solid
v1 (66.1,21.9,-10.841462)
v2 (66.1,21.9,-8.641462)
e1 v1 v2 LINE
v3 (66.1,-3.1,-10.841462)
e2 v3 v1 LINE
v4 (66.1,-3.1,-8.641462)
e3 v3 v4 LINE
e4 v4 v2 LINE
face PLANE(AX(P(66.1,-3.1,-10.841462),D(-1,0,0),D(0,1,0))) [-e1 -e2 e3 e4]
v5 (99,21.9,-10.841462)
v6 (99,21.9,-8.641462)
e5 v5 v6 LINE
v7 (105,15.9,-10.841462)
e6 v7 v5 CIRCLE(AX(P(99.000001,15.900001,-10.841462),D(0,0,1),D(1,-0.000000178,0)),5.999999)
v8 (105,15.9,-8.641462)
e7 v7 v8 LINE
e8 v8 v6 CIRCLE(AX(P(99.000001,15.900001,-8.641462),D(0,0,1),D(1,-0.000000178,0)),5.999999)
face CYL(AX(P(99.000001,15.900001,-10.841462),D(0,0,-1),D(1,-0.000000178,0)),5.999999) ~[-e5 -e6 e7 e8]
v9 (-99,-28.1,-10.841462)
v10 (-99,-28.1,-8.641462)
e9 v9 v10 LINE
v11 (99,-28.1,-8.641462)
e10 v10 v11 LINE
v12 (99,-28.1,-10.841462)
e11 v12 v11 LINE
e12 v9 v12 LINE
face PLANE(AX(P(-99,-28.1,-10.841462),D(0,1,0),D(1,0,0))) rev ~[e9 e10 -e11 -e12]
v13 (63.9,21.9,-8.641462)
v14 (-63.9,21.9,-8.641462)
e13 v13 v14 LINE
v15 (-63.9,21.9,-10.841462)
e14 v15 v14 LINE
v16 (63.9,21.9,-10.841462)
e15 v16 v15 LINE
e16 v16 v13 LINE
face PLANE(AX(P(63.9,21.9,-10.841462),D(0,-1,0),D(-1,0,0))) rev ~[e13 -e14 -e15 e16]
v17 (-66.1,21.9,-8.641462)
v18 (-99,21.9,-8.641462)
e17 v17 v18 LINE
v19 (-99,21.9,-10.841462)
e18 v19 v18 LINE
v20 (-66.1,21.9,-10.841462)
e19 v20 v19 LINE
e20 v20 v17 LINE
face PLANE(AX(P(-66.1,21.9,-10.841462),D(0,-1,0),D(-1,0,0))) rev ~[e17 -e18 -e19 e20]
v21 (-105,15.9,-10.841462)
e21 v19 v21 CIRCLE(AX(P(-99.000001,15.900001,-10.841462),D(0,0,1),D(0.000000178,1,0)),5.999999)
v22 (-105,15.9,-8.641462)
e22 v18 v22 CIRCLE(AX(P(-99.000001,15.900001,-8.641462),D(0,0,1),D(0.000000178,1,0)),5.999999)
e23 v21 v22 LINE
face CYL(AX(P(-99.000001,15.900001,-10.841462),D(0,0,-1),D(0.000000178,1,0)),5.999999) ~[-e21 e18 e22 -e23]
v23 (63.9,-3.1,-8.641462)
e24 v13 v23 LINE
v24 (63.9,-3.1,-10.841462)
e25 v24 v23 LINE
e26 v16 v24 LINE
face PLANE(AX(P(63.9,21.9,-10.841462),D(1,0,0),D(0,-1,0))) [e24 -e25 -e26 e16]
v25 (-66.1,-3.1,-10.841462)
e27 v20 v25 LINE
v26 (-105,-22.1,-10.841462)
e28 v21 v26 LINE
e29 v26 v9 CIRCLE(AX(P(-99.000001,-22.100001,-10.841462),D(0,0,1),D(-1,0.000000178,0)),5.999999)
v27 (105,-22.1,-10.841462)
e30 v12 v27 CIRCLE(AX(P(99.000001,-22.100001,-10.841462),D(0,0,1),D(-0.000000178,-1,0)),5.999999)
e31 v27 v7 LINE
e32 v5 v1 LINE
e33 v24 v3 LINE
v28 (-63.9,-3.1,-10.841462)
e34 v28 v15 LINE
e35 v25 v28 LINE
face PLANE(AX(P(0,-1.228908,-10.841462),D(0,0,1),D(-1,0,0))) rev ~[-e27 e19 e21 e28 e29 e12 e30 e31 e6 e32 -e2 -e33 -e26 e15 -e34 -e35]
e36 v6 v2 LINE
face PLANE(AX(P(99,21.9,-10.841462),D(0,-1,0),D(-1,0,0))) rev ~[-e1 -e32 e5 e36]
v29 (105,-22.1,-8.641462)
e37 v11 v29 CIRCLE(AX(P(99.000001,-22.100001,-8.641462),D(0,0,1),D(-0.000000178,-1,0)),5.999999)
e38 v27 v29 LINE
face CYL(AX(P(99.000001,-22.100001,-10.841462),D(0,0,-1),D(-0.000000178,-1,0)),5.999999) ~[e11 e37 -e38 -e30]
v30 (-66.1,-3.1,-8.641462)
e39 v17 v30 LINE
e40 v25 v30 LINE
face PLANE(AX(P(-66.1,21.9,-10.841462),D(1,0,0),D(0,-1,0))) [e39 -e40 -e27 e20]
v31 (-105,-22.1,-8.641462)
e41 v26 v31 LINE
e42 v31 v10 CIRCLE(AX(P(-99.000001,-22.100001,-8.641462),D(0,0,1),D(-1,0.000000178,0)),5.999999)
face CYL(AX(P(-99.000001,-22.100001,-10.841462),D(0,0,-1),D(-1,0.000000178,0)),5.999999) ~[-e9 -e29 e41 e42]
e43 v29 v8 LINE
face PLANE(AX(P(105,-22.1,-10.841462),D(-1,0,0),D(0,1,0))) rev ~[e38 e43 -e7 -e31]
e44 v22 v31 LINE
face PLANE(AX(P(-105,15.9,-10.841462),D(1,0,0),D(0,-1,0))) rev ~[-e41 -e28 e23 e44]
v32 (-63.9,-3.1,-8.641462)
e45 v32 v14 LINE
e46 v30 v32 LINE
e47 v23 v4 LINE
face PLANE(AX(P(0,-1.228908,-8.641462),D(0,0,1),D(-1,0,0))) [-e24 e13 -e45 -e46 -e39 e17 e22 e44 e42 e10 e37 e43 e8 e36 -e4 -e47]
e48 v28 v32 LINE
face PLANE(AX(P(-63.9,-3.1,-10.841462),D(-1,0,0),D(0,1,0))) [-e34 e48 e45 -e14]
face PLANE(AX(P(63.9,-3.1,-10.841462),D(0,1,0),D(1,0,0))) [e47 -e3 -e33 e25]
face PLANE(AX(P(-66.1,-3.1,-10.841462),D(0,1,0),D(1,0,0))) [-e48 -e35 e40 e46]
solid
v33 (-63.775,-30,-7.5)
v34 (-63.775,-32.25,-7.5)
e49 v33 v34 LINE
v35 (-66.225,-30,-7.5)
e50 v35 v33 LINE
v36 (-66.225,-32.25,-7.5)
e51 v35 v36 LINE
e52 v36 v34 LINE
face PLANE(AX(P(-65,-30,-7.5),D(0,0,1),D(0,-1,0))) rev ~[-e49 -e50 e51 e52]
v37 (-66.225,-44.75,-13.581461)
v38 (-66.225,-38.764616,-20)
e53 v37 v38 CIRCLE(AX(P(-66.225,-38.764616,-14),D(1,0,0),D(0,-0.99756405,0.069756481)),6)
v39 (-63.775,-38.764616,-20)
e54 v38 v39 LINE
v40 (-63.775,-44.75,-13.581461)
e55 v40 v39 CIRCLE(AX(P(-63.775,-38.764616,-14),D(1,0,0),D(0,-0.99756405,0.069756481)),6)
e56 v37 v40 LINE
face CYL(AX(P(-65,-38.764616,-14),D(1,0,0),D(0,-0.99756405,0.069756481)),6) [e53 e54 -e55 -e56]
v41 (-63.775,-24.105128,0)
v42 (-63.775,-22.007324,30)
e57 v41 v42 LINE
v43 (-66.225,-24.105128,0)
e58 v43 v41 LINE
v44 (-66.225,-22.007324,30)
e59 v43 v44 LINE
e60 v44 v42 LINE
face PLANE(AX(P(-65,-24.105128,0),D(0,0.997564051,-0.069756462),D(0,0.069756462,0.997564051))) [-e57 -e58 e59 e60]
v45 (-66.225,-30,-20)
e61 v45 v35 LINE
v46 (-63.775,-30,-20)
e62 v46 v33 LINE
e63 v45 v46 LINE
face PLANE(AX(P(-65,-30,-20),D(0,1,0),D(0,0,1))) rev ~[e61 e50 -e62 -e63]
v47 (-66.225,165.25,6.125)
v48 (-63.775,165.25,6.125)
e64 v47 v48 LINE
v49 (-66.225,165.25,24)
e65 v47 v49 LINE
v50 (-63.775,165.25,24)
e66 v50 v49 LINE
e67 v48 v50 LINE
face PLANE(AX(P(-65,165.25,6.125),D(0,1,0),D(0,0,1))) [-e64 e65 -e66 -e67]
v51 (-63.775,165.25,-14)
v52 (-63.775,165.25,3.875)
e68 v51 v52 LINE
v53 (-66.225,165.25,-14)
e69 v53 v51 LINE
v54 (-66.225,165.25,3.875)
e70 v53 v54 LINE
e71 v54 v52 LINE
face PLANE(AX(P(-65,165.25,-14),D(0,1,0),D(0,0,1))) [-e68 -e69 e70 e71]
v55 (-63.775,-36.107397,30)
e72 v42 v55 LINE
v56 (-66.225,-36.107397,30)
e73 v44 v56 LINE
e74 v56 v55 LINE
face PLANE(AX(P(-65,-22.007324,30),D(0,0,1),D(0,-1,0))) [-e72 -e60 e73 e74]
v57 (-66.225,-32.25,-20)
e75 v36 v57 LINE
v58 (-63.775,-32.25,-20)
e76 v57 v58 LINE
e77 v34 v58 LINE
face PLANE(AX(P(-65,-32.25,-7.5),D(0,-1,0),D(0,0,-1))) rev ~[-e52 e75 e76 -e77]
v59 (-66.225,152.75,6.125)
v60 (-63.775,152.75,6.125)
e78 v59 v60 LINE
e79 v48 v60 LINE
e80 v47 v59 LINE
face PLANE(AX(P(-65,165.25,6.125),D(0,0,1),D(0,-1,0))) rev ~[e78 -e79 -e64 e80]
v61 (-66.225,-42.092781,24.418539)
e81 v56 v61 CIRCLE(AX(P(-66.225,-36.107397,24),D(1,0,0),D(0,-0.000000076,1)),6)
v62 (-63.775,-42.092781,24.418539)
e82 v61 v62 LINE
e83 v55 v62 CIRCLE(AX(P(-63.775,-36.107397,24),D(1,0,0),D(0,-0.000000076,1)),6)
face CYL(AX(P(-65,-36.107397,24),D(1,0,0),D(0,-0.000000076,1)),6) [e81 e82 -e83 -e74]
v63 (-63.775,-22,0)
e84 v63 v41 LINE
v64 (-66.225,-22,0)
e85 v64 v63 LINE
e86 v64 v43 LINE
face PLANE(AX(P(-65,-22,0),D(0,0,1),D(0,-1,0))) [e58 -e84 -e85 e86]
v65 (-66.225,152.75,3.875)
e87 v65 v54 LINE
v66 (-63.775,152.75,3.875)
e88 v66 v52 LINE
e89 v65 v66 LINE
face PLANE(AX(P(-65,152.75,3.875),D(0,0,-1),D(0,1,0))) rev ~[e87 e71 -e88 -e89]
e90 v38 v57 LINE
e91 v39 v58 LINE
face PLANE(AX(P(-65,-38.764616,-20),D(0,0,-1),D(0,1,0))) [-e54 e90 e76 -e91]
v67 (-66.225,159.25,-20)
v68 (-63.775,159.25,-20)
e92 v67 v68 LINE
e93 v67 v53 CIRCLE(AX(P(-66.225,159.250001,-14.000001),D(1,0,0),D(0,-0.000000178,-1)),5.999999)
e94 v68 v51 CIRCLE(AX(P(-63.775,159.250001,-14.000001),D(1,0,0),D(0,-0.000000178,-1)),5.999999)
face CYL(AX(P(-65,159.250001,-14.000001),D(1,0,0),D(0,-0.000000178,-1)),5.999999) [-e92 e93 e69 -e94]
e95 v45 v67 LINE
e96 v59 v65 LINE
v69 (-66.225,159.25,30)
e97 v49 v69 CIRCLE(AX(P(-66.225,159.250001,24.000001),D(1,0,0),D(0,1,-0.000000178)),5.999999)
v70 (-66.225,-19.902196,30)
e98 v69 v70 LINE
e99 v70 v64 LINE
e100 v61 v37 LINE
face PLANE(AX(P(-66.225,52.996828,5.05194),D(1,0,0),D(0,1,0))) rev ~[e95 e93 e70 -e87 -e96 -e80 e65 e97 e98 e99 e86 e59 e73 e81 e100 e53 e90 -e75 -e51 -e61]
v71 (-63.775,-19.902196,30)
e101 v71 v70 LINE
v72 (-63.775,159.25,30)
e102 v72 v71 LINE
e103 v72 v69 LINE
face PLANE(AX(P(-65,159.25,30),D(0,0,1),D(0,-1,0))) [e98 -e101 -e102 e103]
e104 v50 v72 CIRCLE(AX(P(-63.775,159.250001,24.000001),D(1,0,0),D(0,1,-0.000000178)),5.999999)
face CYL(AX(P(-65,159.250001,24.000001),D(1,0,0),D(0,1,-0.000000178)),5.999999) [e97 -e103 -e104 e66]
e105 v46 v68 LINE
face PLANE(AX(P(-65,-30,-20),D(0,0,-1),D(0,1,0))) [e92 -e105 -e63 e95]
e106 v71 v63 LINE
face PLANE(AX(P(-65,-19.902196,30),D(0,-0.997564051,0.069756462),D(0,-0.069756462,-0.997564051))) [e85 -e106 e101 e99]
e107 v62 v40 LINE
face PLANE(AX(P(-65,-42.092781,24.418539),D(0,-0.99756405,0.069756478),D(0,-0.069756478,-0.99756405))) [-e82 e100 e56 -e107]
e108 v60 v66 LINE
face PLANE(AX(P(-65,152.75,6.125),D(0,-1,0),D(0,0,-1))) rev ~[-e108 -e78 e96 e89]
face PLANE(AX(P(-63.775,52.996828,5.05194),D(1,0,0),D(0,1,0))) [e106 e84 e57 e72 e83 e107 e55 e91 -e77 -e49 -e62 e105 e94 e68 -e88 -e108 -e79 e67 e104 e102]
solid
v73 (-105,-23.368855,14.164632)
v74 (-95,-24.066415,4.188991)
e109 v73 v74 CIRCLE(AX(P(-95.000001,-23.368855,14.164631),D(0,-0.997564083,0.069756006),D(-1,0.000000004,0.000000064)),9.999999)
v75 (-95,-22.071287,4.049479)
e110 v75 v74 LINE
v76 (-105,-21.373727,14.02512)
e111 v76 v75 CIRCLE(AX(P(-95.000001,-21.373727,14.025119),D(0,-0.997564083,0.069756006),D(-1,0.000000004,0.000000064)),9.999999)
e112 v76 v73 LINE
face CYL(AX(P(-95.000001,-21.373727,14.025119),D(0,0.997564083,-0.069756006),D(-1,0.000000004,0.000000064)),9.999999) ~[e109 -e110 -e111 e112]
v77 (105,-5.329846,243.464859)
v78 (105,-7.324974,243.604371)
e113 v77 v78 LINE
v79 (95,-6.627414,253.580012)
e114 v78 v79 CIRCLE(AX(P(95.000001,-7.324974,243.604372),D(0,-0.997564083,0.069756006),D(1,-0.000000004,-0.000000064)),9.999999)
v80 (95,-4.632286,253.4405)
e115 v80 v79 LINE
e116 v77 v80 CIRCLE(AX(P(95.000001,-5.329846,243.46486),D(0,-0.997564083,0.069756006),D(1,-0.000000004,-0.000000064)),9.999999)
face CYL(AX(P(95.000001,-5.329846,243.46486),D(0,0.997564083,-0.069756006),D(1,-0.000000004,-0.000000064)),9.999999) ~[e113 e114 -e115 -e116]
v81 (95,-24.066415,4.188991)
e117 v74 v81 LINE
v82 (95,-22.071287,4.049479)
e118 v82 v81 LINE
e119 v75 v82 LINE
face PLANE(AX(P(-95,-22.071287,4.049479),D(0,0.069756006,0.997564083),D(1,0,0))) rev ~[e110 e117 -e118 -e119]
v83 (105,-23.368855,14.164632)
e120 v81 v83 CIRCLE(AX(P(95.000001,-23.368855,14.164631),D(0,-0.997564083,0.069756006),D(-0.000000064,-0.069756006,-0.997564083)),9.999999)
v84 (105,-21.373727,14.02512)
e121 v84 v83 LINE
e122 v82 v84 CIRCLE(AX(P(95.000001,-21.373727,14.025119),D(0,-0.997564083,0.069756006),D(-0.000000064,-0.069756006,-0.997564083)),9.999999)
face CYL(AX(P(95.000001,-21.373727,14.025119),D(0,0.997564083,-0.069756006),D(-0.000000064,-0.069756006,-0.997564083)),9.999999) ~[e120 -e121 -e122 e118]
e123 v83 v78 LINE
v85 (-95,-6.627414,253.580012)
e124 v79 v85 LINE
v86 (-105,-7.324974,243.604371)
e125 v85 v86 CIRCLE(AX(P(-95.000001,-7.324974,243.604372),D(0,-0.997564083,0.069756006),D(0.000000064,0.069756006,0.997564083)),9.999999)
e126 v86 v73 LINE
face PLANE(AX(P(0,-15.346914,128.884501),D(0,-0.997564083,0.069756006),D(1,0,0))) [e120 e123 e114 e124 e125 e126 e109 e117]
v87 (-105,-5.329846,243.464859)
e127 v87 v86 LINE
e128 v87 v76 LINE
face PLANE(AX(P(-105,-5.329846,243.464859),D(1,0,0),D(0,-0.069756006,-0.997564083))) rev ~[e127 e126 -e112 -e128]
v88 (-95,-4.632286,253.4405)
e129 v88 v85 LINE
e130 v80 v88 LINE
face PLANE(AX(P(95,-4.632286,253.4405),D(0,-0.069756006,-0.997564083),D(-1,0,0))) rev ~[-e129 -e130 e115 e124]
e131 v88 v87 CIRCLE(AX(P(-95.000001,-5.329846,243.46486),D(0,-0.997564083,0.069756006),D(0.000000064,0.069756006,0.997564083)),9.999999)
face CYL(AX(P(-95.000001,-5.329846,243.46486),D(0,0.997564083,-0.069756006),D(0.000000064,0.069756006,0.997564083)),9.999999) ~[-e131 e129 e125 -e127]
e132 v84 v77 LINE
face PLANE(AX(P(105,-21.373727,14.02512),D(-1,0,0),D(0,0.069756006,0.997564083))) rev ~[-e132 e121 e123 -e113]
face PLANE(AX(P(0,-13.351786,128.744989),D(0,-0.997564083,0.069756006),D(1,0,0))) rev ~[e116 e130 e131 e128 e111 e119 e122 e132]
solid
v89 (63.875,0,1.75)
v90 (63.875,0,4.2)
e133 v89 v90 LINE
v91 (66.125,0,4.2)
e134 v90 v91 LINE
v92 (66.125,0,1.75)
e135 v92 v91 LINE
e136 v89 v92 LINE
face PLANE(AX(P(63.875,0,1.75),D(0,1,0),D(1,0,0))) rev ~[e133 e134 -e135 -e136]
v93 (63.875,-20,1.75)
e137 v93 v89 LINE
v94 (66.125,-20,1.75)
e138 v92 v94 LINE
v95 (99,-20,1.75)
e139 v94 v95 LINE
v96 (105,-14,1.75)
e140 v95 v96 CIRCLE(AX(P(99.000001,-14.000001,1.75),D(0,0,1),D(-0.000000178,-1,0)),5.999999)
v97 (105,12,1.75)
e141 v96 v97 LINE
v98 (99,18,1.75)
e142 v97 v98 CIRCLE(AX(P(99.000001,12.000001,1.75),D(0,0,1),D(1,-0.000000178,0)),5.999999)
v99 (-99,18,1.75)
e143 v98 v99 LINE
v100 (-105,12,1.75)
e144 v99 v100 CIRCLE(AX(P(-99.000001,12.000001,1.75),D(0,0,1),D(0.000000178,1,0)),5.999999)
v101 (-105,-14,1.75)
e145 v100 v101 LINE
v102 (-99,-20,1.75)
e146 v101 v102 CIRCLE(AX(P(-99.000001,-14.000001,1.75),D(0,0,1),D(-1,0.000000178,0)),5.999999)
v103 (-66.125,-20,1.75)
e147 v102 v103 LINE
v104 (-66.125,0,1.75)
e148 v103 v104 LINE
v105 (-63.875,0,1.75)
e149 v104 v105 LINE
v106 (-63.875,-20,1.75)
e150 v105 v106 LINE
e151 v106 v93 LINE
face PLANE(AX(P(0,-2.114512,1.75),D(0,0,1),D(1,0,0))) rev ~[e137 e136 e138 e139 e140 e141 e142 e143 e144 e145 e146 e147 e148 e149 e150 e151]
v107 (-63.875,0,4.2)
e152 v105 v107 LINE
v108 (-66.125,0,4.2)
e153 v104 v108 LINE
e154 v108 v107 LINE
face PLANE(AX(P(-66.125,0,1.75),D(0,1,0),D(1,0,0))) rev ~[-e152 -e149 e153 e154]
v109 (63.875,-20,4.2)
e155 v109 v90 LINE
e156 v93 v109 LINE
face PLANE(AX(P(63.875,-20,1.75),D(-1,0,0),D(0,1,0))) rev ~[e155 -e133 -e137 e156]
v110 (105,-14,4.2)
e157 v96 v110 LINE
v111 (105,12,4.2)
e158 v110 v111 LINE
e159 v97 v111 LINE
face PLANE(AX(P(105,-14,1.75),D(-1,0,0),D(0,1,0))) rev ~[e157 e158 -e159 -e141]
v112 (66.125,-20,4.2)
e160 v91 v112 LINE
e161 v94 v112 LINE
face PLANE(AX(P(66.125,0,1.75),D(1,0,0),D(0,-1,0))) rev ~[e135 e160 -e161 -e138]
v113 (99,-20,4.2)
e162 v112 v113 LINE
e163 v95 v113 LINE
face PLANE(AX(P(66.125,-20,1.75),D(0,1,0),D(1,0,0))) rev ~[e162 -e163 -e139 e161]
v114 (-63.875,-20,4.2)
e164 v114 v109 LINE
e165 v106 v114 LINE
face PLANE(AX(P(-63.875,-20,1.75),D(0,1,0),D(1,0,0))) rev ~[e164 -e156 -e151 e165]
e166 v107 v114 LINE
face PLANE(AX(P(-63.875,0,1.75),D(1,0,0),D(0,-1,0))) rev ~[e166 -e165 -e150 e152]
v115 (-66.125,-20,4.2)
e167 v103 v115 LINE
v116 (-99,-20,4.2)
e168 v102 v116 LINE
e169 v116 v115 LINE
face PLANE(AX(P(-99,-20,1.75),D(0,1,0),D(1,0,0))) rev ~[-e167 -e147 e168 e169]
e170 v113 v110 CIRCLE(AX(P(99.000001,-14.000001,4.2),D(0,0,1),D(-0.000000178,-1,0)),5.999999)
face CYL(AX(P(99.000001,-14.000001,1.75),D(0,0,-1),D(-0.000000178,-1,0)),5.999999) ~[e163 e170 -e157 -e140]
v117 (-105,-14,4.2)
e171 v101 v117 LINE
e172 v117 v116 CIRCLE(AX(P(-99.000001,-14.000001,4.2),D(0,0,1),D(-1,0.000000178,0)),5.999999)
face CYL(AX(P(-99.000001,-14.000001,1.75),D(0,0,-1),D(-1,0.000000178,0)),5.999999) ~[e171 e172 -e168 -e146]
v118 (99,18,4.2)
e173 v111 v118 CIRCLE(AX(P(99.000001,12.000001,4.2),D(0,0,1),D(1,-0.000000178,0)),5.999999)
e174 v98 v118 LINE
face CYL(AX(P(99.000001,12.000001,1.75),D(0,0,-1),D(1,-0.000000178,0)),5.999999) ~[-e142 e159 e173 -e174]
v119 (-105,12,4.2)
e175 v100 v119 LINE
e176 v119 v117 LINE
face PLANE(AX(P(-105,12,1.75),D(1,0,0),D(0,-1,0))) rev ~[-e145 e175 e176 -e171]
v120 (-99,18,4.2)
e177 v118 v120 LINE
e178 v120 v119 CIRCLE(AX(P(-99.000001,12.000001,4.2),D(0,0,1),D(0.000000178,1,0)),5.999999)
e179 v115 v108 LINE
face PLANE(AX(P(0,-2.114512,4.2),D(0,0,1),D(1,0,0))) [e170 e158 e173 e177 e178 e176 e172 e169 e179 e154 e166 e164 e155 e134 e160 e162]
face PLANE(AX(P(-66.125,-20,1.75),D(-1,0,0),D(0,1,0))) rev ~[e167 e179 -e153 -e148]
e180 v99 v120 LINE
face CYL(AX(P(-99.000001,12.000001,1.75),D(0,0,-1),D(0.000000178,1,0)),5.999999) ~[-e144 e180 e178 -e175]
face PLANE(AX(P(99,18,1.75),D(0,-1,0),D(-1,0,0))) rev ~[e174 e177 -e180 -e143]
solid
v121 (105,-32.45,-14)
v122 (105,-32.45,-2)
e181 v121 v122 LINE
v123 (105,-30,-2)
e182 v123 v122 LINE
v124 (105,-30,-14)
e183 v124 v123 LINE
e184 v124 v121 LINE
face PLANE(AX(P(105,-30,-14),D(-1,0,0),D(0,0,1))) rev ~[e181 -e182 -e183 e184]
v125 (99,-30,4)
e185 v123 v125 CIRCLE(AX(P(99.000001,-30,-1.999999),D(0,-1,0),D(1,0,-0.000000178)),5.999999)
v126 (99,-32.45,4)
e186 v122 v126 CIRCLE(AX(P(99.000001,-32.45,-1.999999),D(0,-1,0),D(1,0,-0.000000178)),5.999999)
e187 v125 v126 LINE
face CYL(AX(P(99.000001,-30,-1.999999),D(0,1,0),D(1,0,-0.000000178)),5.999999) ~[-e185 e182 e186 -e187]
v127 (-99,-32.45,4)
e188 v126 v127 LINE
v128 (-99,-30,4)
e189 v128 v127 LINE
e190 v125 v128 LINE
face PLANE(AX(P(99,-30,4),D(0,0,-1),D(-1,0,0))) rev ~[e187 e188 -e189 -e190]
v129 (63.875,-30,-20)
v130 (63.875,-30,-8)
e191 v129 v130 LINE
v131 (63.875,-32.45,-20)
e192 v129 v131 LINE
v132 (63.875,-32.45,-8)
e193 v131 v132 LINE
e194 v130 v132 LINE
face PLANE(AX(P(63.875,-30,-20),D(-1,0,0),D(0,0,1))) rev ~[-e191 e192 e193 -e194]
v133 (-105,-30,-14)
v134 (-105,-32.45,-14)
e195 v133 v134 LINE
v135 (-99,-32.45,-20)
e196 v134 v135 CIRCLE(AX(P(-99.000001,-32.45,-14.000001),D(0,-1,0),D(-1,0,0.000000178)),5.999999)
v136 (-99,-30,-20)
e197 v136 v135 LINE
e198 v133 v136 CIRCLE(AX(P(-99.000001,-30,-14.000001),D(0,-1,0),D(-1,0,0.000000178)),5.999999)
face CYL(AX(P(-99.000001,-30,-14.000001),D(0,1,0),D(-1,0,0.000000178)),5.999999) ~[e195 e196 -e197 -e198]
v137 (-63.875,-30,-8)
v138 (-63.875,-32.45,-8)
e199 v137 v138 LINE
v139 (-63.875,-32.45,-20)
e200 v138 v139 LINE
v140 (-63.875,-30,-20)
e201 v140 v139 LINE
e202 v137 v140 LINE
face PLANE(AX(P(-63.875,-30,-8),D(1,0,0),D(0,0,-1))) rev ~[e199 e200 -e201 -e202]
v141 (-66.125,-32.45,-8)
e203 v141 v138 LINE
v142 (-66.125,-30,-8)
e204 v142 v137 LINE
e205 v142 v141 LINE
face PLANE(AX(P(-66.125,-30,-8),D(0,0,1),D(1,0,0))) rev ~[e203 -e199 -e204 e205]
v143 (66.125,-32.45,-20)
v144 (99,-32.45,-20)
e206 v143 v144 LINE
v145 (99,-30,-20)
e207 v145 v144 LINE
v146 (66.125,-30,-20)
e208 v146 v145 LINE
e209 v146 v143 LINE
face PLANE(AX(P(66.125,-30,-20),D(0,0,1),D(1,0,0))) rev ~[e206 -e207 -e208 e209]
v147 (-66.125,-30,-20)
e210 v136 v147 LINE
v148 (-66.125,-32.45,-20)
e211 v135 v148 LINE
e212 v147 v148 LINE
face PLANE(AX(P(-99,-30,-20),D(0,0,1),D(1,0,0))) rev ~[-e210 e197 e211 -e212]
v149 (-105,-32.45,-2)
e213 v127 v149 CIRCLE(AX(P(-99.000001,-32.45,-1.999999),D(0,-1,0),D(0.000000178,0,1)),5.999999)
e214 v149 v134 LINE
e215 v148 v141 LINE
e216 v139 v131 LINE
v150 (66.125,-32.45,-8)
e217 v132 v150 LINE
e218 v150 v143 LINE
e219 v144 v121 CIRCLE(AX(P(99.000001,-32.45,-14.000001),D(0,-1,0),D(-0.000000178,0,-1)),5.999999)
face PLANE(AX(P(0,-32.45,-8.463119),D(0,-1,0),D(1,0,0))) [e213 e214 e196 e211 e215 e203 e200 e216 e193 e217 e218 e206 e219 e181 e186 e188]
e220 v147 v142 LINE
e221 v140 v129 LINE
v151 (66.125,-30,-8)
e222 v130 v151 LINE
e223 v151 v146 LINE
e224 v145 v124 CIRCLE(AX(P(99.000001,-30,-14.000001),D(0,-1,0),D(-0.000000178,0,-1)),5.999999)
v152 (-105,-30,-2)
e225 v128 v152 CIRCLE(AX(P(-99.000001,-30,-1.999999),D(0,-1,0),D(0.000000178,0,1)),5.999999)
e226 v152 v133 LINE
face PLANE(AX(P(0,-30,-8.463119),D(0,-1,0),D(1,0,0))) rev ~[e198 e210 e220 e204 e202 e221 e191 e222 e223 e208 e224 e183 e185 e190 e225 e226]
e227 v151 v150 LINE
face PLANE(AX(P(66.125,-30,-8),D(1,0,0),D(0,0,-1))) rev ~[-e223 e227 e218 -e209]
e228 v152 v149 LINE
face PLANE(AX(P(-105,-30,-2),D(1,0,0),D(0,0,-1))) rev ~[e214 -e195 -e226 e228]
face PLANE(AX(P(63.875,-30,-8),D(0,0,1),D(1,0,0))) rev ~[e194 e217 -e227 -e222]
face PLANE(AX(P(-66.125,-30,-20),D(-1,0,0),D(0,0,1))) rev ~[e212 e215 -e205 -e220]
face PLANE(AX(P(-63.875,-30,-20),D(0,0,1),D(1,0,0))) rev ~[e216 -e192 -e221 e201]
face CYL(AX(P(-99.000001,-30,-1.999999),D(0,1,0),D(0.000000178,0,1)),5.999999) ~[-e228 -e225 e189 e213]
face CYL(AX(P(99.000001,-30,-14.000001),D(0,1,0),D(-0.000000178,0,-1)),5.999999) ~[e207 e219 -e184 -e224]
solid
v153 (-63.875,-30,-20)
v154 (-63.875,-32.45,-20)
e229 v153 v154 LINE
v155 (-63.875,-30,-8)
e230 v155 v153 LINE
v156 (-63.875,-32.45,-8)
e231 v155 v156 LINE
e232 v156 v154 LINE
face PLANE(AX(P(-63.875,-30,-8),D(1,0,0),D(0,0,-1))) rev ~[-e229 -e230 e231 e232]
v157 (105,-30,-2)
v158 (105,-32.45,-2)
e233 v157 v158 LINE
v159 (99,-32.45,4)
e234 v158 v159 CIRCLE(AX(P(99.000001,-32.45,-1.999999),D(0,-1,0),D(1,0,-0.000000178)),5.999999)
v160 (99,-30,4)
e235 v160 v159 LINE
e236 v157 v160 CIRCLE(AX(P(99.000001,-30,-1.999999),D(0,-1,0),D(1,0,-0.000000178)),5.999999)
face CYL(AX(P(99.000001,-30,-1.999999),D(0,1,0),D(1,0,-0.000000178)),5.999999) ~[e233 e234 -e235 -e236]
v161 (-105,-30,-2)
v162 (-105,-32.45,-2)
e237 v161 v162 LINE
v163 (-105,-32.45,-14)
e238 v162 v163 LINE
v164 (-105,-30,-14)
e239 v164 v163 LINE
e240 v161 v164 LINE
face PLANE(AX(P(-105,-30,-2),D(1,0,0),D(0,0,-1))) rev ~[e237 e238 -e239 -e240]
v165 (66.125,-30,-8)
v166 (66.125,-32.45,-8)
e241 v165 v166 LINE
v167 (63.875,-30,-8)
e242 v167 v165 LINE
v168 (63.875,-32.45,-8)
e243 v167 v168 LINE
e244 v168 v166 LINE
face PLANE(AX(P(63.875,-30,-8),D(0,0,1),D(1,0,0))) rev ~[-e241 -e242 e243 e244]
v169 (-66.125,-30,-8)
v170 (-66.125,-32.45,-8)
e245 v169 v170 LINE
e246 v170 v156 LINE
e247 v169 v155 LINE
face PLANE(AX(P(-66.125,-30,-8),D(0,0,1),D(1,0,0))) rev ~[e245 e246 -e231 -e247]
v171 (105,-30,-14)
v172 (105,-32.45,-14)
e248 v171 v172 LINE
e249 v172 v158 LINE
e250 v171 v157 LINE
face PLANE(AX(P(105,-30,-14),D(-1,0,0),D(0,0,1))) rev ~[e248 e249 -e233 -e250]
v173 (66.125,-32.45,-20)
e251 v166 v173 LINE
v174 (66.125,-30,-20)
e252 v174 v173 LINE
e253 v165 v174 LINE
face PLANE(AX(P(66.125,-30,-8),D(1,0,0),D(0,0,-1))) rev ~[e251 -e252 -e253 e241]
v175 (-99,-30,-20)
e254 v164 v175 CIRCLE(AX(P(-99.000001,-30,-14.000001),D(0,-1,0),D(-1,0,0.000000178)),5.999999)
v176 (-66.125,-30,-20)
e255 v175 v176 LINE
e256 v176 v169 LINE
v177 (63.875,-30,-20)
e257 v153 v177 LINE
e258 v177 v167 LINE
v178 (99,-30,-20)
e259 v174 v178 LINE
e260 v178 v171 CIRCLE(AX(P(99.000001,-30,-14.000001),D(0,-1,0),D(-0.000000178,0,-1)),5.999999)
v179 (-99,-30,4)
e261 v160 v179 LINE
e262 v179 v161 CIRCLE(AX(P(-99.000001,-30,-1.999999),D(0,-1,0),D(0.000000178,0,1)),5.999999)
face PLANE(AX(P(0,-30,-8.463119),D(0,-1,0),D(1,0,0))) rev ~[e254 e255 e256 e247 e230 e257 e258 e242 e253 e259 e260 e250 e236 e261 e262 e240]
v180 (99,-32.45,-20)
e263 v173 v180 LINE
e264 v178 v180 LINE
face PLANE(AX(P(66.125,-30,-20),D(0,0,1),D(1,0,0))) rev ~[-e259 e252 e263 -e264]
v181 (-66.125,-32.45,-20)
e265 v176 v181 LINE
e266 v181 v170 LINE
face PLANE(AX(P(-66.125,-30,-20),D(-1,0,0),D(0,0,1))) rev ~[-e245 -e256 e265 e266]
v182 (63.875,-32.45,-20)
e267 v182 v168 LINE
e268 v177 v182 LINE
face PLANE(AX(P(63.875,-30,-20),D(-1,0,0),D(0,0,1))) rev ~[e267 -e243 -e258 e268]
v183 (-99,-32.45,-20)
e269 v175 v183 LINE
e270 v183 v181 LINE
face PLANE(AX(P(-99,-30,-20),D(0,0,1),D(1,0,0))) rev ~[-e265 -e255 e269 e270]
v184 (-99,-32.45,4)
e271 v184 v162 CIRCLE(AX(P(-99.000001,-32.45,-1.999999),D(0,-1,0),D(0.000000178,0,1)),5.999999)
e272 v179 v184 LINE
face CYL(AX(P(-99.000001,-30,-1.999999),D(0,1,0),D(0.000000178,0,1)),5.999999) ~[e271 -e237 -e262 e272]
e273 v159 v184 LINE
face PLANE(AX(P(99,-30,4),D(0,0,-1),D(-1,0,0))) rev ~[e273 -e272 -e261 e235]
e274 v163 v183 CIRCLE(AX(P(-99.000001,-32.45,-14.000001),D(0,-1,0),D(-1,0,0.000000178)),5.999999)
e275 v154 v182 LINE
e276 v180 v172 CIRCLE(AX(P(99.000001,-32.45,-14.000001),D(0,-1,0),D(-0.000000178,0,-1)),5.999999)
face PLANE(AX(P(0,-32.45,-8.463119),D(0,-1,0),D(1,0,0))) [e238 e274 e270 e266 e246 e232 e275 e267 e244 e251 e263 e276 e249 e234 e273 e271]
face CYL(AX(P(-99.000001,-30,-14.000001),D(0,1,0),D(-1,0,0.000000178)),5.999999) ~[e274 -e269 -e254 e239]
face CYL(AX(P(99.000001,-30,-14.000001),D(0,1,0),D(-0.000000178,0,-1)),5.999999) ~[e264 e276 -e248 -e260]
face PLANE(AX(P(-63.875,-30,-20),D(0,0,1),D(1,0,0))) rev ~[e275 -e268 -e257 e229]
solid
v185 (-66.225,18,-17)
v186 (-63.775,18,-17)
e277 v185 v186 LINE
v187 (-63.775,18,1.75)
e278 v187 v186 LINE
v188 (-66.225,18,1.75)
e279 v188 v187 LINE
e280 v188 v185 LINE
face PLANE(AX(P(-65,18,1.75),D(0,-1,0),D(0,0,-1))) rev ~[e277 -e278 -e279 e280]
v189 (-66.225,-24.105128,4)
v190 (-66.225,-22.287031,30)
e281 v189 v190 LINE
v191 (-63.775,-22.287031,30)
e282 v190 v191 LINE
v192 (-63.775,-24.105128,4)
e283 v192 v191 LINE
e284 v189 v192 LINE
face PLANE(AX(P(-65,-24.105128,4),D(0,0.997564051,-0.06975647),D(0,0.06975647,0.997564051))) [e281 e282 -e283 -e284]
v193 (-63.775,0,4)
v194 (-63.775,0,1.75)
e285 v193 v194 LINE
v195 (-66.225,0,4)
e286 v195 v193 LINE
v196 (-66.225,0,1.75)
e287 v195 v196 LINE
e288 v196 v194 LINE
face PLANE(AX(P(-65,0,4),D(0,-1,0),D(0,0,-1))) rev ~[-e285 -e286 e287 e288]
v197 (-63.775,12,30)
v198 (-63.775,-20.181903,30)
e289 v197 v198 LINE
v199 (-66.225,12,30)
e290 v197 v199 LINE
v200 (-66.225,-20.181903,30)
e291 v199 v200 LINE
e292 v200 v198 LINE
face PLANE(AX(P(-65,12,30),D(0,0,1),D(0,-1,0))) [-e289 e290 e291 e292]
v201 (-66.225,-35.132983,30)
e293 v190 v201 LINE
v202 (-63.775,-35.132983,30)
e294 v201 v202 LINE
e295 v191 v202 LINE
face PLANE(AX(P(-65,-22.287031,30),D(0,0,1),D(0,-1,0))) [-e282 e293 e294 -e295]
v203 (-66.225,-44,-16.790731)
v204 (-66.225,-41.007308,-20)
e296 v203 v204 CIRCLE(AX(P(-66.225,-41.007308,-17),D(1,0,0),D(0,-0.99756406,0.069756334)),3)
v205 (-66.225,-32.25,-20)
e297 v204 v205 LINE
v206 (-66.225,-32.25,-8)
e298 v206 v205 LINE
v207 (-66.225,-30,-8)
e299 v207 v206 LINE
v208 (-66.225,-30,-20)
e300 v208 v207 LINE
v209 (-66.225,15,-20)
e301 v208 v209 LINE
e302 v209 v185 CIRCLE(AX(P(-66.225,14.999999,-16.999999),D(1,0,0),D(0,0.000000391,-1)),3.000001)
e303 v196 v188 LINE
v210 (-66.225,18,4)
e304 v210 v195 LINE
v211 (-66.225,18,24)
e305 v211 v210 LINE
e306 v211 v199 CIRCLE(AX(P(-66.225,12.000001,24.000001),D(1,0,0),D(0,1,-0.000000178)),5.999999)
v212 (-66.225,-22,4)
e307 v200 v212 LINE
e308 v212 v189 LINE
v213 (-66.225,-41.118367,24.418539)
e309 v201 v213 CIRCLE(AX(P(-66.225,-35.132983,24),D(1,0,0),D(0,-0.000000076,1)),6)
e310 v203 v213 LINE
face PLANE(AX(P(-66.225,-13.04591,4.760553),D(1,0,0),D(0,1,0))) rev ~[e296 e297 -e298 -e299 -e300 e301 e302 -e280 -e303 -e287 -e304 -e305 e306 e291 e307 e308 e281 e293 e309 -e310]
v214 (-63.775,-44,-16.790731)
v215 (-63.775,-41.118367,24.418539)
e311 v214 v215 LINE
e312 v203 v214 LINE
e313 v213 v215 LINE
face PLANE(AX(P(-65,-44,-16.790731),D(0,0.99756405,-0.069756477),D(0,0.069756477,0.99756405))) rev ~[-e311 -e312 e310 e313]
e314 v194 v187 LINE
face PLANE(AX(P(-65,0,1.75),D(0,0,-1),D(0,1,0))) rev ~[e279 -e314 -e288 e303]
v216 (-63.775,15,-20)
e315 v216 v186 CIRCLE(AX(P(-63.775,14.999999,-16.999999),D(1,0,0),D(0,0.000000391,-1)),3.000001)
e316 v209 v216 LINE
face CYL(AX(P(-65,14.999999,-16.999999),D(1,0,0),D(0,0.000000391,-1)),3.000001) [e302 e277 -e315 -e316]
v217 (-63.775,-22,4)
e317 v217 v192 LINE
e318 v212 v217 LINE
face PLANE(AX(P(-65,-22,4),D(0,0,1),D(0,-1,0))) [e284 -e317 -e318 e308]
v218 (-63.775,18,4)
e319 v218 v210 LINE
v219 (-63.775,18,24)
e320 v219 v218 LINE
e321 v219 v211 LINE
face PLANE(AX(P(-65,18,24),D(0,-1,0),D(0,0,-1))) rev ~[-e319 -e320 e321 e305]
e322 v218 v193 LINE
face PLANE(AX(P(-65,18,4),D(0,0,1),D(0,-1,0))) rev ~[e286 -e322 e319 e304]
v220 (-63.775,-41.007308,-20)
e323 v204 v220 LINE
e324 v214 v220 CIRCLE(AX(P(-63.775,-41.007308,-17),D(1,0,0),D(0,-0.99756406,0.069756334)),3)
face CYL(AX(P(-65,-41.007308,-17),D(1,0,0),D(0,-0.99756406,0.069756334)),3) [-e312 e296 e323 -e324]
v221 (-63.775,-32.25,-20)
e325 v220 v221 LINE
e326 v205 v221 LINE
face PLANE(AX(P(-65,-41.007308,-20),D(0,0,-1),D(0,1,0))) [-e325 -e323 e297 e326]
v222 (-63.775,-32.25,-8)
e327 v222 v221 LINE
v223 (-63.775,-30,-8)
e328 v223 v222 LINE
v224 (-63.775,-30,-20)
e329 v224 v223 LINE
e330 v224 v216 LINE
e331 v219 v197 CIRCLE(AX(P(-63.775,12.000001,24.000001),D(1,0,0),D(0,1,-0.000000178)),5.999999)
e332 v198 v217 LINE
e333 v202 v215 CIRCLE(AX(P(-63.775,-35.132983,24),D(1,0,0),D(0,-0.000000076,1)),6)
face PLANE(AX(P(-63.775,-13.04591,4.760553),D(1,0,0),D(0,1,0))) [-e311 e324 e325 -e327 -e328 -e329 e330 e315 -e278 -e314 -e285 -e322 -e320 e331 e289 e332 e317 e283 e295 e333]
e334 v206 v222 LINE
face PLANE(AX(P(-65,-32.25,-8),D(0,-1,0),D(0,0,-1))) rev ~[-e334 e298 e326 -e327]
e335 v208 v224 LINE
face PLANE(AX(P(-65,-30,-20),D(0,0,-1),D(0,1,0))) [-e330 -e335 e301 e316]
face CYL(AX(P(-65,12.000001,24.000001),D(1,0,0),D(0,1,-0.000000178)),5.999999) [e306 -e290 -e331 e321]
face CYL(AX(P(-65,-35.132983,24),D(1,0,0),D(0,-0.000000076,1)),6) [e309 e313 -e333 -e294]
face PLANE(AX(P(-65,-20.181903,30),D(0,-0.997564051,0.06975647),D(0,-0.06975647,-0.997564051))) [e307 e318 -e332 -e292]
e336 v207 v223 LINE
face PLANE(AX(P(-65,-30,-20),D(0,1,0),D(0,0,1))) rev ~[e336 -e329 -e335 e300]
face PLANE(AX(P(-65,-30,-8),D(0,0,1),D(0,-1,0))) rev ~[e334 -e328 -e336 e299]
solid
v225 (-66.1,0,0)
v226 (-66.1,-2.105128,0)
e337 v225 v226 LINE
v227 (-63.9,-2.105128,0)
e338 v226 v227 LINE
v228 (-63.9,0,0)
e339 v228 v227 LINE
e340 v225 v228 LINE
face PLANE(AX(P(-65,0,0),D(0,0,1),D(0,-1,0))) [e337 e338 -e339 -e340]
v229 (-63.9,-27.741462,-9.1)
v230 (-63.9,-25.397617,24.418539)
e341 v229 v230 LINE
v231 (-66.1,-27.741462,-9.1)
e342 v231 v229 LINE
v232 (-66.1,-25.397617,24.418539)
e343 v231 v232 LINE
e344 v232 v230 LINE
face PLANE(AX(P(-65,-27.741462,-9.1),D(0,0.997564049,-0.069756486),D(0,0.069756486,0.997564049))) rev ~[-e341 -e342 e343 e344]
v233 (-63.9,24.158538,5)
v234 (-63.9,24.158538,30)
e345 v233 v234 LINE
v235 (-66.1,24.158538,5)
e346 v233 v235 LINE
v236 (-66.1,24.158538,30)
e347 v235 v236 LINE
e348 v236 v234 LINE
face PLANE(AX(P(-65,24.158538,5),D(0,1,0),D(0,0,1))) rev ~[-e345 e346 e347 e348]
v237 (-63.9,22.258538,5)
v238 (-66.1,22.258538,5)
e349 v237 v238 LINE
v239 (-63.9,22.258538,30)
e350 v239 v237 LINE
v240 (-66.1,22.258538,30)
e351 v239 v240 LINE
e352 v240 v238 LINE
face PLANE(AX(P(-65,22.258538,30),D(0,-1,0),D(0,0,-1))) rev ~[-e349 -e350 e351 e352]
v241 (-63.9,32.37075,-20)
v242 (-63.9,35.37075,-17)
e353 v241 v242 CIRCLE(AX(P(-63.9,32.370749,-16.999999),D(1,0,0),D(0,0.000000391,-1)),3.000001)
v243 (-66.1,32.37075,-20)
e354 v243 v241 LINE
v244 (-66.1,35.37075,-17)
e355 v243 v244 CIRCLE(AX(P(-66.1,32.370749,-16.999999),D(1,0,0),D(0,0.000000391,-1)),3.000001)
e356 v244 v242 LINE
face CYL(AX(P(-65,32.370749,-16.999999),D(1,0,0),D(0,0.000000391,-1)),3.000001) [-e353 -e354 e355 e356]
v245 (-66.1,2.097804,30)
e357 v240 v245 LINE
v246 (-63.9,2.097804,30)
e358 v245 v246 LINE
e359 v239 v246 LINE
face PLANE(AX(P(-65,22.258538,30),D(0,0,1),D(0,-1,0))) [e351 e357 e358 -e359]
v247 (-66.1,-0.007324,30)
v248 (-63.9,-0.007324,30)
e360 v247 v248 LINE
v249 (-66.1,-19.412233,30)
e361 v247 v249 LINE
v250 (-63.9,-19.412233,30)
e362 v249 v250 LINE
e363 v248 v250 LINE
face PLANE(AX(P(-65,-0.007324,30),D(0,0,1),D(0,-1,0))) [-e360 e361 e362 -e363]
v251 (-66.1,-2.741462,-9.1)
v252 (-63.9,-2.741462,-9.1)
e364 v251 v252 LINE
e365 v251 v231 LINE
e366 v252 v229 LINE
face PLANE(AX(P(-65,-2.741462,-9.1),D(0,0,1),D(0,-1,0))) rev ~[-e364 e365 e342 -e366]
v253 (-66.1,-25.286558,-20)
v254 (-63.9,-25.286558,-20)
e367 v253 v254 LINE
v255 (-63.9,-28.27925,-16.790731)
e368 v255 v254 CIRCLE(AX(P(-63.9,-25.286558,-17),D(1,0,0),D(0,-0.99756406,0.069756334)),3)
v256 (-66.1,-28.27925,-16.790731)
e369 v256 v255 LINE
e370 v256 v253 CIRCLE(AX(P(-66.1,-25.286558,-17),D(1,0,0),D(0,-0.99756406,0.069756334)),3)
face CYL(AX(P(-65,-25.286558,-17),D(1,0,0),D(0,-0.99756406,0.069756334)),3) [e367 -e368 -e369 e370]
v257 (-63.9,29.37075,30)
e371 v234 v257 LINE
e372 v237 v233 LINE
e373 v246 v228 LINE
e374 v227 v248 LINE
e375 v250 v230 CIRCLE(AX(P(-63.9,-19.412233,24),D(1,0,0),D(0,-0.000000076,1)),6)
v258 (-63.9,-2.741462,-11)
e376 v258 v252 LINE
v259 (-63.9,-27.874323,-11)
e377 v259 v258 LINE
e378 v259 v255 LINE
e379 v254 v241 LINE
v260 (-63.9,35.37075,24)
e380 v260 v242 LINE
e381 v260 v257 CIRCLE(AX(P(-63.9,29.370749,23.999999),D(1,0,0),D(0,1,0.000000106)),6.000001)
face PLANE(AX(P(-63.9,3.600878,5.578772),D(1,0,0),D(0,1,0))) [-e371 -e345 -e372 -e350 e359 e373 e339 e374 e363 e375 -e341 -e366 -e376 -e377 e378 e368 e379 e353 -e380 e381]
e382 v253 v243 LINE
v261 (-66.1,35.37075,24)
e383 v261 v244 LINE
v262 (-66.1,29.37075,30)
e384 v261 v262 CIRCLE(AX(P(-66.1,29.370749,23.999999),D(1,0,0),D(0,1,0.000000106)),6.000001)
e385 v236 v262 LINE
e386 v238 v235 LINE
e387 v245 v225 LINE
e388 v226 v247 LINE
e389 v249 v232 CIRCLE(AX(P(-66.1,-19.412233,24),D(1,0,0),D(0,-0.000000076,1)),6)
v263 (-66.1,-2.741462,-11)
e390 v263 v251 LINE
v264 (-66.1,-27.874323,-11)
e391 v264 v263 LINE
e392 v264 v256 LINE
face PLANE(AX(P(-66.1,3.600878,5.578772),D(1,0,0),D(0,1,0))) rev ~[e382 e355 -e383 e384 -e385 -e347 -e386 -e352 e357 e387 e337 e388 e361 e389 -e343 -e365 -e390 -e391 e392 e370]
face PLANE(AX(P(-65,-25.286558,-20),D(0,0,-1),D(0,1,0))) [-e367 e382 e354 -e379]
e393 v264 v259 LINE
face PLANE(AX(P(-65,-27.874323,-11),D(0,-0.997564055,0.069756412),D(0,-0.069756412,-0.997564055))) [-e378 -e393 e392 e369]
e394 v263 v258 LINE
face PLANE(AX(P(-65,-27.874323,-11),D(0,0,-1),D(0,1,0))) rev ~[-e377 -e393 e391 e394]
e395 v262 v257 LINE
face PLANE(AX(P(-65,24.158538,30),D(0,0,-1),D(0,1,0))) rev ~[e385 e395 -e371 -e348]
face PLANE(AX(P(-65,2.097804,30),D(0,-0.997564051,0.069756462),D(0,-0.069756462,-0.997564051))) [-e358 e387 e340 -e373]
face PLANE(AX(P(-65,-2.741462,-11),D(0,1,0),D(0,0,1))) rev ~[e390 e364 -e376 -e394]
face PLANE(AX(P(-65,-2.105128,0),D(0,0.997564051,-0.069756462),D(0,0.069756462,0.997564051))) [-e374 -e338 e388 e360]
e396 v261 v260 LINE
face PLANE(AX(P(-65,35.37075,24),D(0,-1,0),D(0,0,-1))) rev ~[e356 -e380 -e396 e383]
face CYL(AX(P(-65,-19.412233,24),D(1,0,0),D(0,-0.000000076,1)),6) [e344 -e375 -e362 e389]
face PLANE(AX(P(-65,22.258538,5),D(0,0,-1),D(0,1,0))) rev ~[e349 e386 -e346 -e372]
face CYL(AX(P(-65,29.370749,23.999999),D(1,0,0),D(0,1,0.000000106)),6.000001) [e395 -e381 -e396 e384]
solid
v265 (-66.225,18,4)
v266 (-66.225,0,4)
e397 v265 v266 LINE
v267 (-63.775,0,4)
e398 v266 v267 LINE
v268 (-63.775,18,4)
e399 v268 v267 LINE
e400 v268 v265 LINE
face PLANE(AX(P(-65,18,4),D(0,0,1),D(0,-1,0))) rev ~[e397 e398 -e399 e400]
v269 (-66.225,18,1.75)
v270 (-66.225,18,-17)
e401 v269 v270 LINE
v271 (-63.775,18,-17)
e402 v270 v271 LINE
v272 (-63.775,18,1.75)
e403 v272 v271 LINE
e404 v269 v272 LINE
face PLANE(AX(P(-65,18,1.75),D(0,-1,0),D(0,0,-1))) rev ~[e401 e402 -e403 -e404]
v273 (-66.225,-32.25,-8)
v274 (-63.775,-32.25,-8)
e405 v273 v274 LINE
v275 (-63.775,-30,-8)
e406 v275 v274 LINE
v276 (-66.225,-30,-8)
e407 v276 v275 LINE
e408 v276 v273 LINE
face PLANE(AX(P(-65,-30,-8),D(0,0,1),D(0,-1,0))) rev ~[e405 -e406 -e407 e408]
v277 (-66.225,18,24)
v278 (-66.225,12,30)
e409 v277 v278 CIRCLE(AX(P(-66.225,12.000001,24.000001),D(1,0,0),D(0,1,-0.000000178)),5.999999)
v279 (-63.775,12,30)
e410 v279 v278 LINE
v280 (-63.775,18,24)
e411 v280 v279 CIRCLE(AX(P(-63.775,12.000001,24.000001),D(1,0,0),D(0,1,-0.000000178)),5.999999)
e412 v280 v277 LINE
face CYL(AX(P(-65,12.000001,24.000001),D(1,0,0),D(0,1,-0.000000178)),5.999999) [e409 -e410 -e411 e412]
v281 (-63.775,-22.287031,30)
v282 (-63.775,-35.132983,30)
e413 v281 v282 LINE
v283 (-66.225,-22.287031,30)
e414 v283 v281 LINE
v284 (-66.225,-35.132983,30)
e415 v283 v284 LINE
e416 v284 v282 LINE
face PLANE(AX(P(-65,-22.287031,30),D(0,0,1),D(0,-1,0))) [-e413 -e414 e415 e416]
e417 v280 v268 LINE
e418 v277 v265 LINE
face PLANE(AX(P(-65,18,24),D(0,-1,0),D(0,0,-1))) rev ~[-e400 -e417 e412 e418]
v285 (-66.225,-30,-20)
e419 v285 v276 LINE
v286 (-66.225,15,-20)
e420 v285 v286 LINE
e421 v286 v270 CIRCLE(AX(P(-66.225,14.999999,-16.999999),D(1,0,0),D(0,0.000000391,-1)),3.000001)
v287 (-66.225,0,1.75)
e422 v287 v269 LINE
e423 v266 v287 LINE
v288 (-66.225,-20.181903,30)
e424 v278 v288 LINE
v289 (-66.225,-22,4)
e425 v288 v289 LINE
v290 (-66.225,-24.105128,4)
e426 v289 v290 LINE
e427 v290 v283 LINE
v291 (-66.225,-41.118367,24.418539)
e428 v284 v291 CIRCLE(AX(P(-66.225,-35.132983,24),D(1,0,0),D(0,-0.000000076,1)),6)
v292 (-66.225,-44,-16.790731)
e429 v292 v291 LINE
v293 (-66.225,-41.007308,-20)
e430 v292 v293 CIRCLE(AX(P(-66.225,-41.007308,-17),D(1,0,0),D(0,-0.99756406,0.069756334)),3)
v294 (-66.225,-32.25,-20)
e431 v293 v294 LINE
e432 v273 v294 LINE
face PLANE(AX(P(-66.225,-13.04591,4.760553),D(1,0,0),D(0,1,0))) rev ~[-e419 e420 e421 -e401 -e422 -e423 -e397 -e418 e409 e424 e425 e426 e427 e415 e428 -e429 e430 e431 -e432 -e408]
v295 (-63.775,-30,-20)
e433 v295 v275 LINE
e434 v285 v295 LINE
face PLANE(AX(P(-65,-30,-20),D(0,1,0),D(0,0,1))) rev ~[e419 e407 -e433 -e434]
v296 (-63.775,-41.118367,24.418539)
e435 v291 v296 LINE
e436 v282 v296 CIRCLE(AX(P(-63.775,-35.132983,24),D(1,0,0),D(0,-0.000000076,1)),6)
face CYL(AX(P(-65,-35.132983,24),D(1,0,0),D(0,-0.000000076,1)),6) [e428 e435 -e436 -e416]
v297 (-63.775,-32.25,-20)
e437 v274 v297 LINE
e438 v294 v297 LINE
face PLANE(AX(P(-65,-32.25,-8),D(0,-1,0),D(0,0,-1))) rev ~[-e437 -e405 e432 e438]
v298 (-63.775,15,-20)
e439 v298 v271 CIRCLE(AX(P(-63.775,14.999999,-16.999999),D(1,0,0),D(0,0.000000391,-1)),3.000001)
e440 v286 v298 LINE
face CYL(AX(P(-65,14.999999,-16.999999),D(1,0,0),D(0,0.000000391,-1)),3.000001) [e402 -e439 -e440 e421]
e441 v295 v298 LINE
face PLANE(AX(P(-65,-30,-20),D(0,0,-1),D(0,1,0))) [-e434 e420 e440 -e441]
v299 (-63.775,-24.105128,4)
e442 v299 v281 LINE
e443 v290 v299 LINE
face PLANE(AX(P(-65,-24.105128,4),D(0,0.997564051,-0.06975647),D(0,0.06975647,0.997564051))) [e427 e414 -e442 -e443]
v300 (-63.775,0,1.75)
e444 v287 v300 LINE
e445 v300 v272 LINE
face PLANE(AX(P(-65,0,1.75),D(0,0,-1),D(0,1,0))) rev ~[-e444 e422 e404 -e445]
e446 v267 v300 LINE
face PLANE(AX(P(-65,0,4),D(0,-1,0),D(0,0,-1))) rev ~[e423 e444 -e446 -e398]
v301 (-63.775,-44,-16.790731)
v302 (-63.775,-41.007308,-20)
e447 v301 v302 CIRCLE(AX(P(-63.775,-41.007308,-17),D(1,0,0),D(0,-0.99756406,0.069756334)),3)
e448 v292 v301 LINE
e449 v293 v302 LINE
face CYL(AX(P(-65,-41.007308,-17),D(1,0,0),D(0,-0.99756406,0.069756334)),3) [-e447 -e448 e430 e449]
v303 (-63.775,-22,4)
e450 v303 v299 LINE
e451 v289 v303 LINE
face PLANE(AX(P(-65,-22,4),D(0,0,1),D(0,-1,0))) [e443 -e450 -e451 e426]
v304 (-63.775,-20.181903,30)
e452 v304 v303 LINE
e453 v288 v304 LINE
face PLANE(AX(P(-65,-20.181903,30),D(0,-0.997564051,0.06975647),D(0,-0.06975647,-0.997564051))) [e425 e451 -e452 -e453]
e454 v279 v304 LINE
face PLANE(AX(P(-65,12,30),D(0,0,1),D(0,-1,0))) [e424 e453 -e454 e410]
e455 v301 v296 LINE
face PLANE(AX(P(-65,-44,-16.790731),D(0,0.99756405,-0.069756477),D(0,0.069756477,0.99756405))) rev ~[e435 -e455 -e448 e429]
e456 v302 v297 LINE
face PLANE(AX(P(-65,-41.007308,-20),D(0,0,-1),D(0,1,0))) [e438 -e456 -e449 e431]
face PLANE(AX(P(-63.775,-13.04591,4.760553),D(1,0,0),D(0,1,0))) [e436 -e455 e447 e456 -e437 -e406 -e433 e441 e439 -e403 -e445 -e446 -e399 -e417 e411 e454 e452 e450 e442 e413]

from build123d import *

# Parameters (mm, degrees)
PAD_DEPTH               = 2
PAD001_DEPTH            = 1.1
PAD002_DEPTH            = 2.2
BODY004_PLACEMENT_ANGLE = 90
PAD004_DEPTH            = 1.225
PAD005_DEPTH            = 2.45
PAD006_DEPTH            = 2.45
PAD007_DEPTH            = 1.225
PAD008_DEPTH            = 1.225
PAD009_DEPTH            = 2.45


with BuildPart() as body:
    # Sketch (on DatumPlane) → Pad (new body)
    with BuildSketch(Plane(origin=(0, -22.071287, 4.049479), x_dir=(1, 0, 0), z_dir=(0, -0.997564, 0.069756))):
        with BuildLine():
            Line((-95, 0), (95, 0))
            ThreePointArc((95, 0), (102.071068, 2.928932), (105, 10))
            Line((105, 10), (105, 240))
            ThreePointArc((105, 240), (102.071068, 247.071068), (95, 250))
            Line((95, 250), (-95, 250))
            ThreePointArc((-95, 250), (-102.071068, 247.071068), (-105, 240))
            Line((-105, 240), (-105, 10))
            ThreePointArc((-105, 10), (-102.071068, 2.928932), (-95, 0))
        make_face()
    extrude(amount=PAD_DEPTH)


with BuildPart() as body002:
    # Sketch002 → Pad001 (new body, symmetric)
    with BuildSketch(Plane.YZ.offset(65)):
        with BuildLine():
            Line((22.258538, 30), (2.097804, 30))
            Line((2.097804, 30), (0, 0))
            Line((0, 0), (-2.105128, 0))
            Line((-2.105128, 0), (-0.007324, 30))
            Line((-0.007324, 30), (-19.412233, 30))
            ThreePointArc((-19.412233, 30), (-23.504223, 28.388122), (-25.397617, 24.418539))
            Line((-27.741462, -9.1), (-25.397617, 24.418539))
            Line((-2.741462, -9.1), (-27.741462, -9.1))
            Line((-2.741462, -11), (-2.741462, -9.1))
            Line((-27.874323, -11), (-2.741462, -11))
            Line((-27.874323, -11), (-28.27925, -16.790731))
            ThreePointArc((-28.27925, -16.790731), (-27.480619, -19.045995), (-25.286558, -20))
            Line((-25.286558, -20), (32.37075, -20))
            ThreePointArc((32.37075, -20), (34.49207, -19.12132), (35.37075, -17))
            Line((35.37075, 24), (35.37075, -17))
            ThreePointArc((35.37075, 24), (33.61339, 28.242641), (29.37075, 30))
            Line((24.158538, 30), (29.37075, 30))
            Line((24.158538, 5), (24.158538, 30))
            Line((22.258538, 5), (24.158538, 5))
            Line((22.258538, 30), (22.258538, 5))
        make_face()
    extrude(amount=PAD001_DEPTH, both=True)


with BuildPart() as body002_1:
    # Body002 placement: moved
    add(body002.part.moved(Location((-130, 0, 0))))


with BuildPart() as body004:
    # Sketch004 (on Face20 of Binder002) → Pad002 (new body)
    with BuildSketch(Plane(origin=(0, 22.258538, 0), x_dir=(-1, 0, 0), z_dir=(0, 1, 0))):
        with BuildLine():
            Line((-99, -20), (-66.1, -20))
            Line((-66.1, 5), (-66.1, -20))
            Line((-63.9, 5), (-66.1, 5))
            Line((-63.9, -20), (-63.9, 5))
            Line((-63.9, -20), (63.9, -20))
            Line((63.9, 5), (63.9, -20))
            Line((66.1, 5), (63.9, 5))
            Line((66.1, -20), (66.1, 5))
            Line((66.1, -20), (99, -20))
            ThreePointArc((99, -20), (103.242641, -18.242641), (105, -14))
            Line((105, -14), (105, 24))
            ThreePointArc((105, 24), (103.242641, 28.242641), (99, 30))
            Line((99, 30), (-99, 30))
            ThreePointArc((-99, 30), (-103.242641, 28.242641), (-105, 24))
            Line((-105, 24), (-105, -14))
            ThreePointArc((-105, -14), (-103.242641, -18.242641), (-99, -20))
        make_face()
    extrude(amount=PAD002_DEPTH)


with BuildPart() as body004_1:
    # Body004 placement: moved
    add(body004.part.moved(Location((0, 1.9, -33.1))).rotate(Axis((0, 1.9, -33.1), (1, 0, 0)), BODY004_PLACEMENT_ANGLE))


with BuildPart() as body007:
    # Sketch007 → Pad004 (new body, symmetric)
    with BuildSketch(Plane.YZ.offset(65)):
        with BuildLine():
            Line((12, 30), (-20.181903, 30))
            Line((-20.181903, 30), (-22, 4))
            Line((-22, 4), (-24.105128, 4))
            Line((-24.105128, 4), (-22.287031, 30))
            Line((-22.287031, 30), (-35.132983, 30))
            ThreePointArc((-35.132983, 30), (-39.224973, 28.388122), (-41.118367, 24.418539))
            Line((-44, -16.790731), (-41.118367, 24.418539))
            ThreePointArc((-44, -16.790731), (-43.201369, -19.045995), (-41.007308, -20))
            Line((-41.007308, -20), (-32.25, -20))
            Line((-32.25, -8), (-32.25, -20))
            Line((-30, -8), (-32.25, -8))
            Line((-30, -20), (-30, -8))
            Line((-30, -20), (15, -20))
            ThreePointArc((15, -20), (17.12132, -19.12132), (18, -17))
            Line((18, 1.75), (18, -17))
            Line((0, 1.75), (18, 1.75))
            Line((0, 4), (0, 1.75))
            Line((18, 4), (0, 4))
            Line((18, 24), (18, 4))
            ThreePointArc((18, 24), (16.242641, 28.242641), (12, 30))
        make_face()
    extrude(amount=PAD004_DEPTH, both=True)


with BuildPart() as body007_1:
    # Body007 placement: moved
    add(body007.part.moved(Location((-130, 0, 0))))


with BuildPart() as body008:
    # Sketch008 (on Face13 of Binder003) → Pad005 (new body)
    with BuildSketch(Plane.XZ.offset(30)):
        with BuildLine():
            Line((-66.125, -20), (-66.125, -8))
            Line((-66.125, -8), (-63.875, -8))
            Line((-63.875, -8), (-63.875, -20))
            Line((-63.875, -20), (63.875, -20))
            Line((63.875, -20), (63.875, -8))
            Line((63.875, -8), (66.125, -8))
            Line((66.125, -8), (66.125, -20))
            Line((66.125, -20), (99, -20))
            ThreePointArc((99, -20), (103.242641, -18.242641), (105, -14))
            Line((105, -14), (105, -2))
            ThreePointArc((105, -2), (103.242641, 2.242641), (99, 4))
            Line((99, 4), (-99, 4))
            ThreePointArc((-99, 4), (-103.242641, 2.242641), (-105, -2))
            Line((-105, -2), (-105, -14))
            ThreePointArc((-105, -14), (-103.242641, -18.242641), (-99, -20))
            Line((-99, -20), (-66.125, -20))
        make_face()
    extrude(amount=PAD005_DEPTH)


with BuildPart() as body009:
    # Sketch009 (on Face17 of Binder006) → Pad006 (new body)
    with BuildSketch(Plane.XY.offset(1.75)):
        with BuildLine():
            Line((-66.125, -20), (-66.125, 0))
            Line((-66.125, 0), (-63.875, 0))
            Line((-63.875, 0), (-63.875, -20))
            Line((-63.875, -20), (63.875, -20))
            Line((63.875, -20), (63.875, 0))
            Line((63.875, 0), (66.125, 0))
            Line((66.125, 0), (66.125, -20))
            Line((66.125, -20), (99, -20))
            ThreePointArc((99, -20), (103.242641, -18.242641), (105, -14))
            Line((105, -14), (105, 12))
            ThreePointArc((105, 12), (103.242641, 16.242641), (99, 18))
            Line((99, 18), (-99, 18))
            ThreePointArc((-99, 18), (-103.242641, 16.242641), (-105, 12))
            Line((-105, 12), (-105, -14))
            ThreePointArc((-105, -14), (-103.242641, -18.242641), (-99, -20))
            Line((-99, -20), (-66.125, -20))
        make_face()
    extrude(amount=PAD006_DEPTH)


with BuildPart() as body011:
    # Sketch010 → Pad007 (new body, symmetric)
    with BuildSketch(Plane.YZ.offset(65)):
        with BuildLine():
            Line((-19.902196, 30), (-22, 0))
            Line((-22, 0), (-24.105128, 0))
            Line((-24.105128, 0), (-22.007324, 30))
            Line((-22.007324, 30), (-36.107397, 30))
            ThreePointArc((-36.107397, 30), (-40.199387, 28.388122), (-42.092781, 24.418539))
            Line((-42.092781, 24.418539), (-44.75, -13.581461))
            ThreePointArc((-44.75, -13.581461), (-43.152738, -18.09199), (-38.764616, -20))
            Line((-38.764616, -20), (-32.25, -20))
            Line((-32.25, -7.5), (-32.25, -20))
            Line((-30, -7.5), (-32.25, -7.5))
            Line((-30, -20), (-30, -7.5))
            Line((-30, -20), (159.25, -20))
            ThreePointArc((159.25, -20), (163.492641, -18.242641), (165.25, -14))
            Line((165.25, -14), (165.25, 3.875))
            Line((152.75, 3.875), (165.25, 3.875))
            Line((152.75, 6.125), (152.75, 3.875))
            Line((165.25, 6.125), (152.75, 6.125))
            Line((165.25, 6.125), (165.25, 24))
            ThreePointArc((165.25, 24), (163.492641, 28.242641), (159.25, 30))
            Line((159.25, 30), (-19.902196, 30))
        make_face()
    extrude(amount=PAD007_DEPTH, both=True)


with BuildPart() as body011_1:
    # Body011 placement: moved
    add(body011.part.moved(Location((-130, 0, 0))))


with BuildPart() as body013:
    # Sketch011 → Pad008 (new body, symmetric)
    with BuildSketch(Plane.YZ.offset(65)):
        with BuildLine():
            Line((12, 30), (-20.181903, 30))
            Line((-20.181903, 30), (-22, 4))
            Line((-22, 4), (-24.105128, 4))
            Line((-24.105128, 4), (-22.287031, 30))
            Line((-22.287031, 30), (-35.132983, 30))
            ThreePointArc((-35.132983, 30), (-39.224973, 28.388122), (-41.118367, 24.418539))
            Line((-44, -16.790731), (-41.118367, 24.418539))
            ThreePointArc((-44, -16.790731), (-43.201369, -19.045995), (-41.007308, -20))
            Line((-41.007308, -20), (-32.25, -20))
            Line((-32.25, -8), (-32.25, -20))
            Line((-30, -8), (-32.25, -8))
            Line((-30, -20), (-30, -8))
            Line((-30, -20), (15, -20))
            ThreePointArc((15, -20), (17.12132, -19.12132), (18, -17))
            Line((18, 1.75), (18, -17))
            Line((0, 1.75), (18, 1.75))
            Line((0, 4), (0, 1.75))
            Line((18, 4), (0, 4))
            Line((18, 24), (18, 4))
            ThreePointArc((18, 24), (16.242641, 28.242641), (12, 30))
        make_face()
    extrude(amount=PAD008_DEPTH, both=True)


with BuildPart() as body013_1:
    # Body013 placement: moved
    add(body013.part.moved(Location((-130, 0, 0))))


with BuildPart() as body014:
    # Sketch012 → Pad009 (new body)
    with BuildSketch(Plane.XZ.offset(30)):
        with BuildLine():
            Line((-66.125, -20), (-66.125, -8))
            Line((-66.125, -8), (-63.875, -8))
            Line((-63.875, -8), (-63.875, -20))
            Line((-63.875, -20), (63.875, -20))
            Line((63.875, -20), (63.875, -8))
            Line((63.875, -8), (66.125, -8))
            Line((66.125, -8), (66.125, -20))
            Line((66.125, -20), (99, -20))
            ThreePointArc((99, -20), (103.242641, -18.242641), (105, -14))
            Line((105, -14), (105, -2))
            ThreePointArc((105, -2), (103.242641, 2.242641), (99, 4))
            Line((99, 4), (-99, 4))
            ThreePointArc((-99, 4), (-103.242641, 2.242641), (-105, -2))
            Line((-105, -2), (-105, -14))
            ThreePointArc((-105, -14), (-103.242641, -18.242641), (-99, -20))
            Line((-99, -20), (-66.125, -20))
        make_face()
    extrude(amount=PAD009_DEPTH)


solid = Compound([body.part, body002_1.part, body004_1.part, body007_1.part, body008.part, body009.part, body011_1.part, body013_1.part, body014.part])
